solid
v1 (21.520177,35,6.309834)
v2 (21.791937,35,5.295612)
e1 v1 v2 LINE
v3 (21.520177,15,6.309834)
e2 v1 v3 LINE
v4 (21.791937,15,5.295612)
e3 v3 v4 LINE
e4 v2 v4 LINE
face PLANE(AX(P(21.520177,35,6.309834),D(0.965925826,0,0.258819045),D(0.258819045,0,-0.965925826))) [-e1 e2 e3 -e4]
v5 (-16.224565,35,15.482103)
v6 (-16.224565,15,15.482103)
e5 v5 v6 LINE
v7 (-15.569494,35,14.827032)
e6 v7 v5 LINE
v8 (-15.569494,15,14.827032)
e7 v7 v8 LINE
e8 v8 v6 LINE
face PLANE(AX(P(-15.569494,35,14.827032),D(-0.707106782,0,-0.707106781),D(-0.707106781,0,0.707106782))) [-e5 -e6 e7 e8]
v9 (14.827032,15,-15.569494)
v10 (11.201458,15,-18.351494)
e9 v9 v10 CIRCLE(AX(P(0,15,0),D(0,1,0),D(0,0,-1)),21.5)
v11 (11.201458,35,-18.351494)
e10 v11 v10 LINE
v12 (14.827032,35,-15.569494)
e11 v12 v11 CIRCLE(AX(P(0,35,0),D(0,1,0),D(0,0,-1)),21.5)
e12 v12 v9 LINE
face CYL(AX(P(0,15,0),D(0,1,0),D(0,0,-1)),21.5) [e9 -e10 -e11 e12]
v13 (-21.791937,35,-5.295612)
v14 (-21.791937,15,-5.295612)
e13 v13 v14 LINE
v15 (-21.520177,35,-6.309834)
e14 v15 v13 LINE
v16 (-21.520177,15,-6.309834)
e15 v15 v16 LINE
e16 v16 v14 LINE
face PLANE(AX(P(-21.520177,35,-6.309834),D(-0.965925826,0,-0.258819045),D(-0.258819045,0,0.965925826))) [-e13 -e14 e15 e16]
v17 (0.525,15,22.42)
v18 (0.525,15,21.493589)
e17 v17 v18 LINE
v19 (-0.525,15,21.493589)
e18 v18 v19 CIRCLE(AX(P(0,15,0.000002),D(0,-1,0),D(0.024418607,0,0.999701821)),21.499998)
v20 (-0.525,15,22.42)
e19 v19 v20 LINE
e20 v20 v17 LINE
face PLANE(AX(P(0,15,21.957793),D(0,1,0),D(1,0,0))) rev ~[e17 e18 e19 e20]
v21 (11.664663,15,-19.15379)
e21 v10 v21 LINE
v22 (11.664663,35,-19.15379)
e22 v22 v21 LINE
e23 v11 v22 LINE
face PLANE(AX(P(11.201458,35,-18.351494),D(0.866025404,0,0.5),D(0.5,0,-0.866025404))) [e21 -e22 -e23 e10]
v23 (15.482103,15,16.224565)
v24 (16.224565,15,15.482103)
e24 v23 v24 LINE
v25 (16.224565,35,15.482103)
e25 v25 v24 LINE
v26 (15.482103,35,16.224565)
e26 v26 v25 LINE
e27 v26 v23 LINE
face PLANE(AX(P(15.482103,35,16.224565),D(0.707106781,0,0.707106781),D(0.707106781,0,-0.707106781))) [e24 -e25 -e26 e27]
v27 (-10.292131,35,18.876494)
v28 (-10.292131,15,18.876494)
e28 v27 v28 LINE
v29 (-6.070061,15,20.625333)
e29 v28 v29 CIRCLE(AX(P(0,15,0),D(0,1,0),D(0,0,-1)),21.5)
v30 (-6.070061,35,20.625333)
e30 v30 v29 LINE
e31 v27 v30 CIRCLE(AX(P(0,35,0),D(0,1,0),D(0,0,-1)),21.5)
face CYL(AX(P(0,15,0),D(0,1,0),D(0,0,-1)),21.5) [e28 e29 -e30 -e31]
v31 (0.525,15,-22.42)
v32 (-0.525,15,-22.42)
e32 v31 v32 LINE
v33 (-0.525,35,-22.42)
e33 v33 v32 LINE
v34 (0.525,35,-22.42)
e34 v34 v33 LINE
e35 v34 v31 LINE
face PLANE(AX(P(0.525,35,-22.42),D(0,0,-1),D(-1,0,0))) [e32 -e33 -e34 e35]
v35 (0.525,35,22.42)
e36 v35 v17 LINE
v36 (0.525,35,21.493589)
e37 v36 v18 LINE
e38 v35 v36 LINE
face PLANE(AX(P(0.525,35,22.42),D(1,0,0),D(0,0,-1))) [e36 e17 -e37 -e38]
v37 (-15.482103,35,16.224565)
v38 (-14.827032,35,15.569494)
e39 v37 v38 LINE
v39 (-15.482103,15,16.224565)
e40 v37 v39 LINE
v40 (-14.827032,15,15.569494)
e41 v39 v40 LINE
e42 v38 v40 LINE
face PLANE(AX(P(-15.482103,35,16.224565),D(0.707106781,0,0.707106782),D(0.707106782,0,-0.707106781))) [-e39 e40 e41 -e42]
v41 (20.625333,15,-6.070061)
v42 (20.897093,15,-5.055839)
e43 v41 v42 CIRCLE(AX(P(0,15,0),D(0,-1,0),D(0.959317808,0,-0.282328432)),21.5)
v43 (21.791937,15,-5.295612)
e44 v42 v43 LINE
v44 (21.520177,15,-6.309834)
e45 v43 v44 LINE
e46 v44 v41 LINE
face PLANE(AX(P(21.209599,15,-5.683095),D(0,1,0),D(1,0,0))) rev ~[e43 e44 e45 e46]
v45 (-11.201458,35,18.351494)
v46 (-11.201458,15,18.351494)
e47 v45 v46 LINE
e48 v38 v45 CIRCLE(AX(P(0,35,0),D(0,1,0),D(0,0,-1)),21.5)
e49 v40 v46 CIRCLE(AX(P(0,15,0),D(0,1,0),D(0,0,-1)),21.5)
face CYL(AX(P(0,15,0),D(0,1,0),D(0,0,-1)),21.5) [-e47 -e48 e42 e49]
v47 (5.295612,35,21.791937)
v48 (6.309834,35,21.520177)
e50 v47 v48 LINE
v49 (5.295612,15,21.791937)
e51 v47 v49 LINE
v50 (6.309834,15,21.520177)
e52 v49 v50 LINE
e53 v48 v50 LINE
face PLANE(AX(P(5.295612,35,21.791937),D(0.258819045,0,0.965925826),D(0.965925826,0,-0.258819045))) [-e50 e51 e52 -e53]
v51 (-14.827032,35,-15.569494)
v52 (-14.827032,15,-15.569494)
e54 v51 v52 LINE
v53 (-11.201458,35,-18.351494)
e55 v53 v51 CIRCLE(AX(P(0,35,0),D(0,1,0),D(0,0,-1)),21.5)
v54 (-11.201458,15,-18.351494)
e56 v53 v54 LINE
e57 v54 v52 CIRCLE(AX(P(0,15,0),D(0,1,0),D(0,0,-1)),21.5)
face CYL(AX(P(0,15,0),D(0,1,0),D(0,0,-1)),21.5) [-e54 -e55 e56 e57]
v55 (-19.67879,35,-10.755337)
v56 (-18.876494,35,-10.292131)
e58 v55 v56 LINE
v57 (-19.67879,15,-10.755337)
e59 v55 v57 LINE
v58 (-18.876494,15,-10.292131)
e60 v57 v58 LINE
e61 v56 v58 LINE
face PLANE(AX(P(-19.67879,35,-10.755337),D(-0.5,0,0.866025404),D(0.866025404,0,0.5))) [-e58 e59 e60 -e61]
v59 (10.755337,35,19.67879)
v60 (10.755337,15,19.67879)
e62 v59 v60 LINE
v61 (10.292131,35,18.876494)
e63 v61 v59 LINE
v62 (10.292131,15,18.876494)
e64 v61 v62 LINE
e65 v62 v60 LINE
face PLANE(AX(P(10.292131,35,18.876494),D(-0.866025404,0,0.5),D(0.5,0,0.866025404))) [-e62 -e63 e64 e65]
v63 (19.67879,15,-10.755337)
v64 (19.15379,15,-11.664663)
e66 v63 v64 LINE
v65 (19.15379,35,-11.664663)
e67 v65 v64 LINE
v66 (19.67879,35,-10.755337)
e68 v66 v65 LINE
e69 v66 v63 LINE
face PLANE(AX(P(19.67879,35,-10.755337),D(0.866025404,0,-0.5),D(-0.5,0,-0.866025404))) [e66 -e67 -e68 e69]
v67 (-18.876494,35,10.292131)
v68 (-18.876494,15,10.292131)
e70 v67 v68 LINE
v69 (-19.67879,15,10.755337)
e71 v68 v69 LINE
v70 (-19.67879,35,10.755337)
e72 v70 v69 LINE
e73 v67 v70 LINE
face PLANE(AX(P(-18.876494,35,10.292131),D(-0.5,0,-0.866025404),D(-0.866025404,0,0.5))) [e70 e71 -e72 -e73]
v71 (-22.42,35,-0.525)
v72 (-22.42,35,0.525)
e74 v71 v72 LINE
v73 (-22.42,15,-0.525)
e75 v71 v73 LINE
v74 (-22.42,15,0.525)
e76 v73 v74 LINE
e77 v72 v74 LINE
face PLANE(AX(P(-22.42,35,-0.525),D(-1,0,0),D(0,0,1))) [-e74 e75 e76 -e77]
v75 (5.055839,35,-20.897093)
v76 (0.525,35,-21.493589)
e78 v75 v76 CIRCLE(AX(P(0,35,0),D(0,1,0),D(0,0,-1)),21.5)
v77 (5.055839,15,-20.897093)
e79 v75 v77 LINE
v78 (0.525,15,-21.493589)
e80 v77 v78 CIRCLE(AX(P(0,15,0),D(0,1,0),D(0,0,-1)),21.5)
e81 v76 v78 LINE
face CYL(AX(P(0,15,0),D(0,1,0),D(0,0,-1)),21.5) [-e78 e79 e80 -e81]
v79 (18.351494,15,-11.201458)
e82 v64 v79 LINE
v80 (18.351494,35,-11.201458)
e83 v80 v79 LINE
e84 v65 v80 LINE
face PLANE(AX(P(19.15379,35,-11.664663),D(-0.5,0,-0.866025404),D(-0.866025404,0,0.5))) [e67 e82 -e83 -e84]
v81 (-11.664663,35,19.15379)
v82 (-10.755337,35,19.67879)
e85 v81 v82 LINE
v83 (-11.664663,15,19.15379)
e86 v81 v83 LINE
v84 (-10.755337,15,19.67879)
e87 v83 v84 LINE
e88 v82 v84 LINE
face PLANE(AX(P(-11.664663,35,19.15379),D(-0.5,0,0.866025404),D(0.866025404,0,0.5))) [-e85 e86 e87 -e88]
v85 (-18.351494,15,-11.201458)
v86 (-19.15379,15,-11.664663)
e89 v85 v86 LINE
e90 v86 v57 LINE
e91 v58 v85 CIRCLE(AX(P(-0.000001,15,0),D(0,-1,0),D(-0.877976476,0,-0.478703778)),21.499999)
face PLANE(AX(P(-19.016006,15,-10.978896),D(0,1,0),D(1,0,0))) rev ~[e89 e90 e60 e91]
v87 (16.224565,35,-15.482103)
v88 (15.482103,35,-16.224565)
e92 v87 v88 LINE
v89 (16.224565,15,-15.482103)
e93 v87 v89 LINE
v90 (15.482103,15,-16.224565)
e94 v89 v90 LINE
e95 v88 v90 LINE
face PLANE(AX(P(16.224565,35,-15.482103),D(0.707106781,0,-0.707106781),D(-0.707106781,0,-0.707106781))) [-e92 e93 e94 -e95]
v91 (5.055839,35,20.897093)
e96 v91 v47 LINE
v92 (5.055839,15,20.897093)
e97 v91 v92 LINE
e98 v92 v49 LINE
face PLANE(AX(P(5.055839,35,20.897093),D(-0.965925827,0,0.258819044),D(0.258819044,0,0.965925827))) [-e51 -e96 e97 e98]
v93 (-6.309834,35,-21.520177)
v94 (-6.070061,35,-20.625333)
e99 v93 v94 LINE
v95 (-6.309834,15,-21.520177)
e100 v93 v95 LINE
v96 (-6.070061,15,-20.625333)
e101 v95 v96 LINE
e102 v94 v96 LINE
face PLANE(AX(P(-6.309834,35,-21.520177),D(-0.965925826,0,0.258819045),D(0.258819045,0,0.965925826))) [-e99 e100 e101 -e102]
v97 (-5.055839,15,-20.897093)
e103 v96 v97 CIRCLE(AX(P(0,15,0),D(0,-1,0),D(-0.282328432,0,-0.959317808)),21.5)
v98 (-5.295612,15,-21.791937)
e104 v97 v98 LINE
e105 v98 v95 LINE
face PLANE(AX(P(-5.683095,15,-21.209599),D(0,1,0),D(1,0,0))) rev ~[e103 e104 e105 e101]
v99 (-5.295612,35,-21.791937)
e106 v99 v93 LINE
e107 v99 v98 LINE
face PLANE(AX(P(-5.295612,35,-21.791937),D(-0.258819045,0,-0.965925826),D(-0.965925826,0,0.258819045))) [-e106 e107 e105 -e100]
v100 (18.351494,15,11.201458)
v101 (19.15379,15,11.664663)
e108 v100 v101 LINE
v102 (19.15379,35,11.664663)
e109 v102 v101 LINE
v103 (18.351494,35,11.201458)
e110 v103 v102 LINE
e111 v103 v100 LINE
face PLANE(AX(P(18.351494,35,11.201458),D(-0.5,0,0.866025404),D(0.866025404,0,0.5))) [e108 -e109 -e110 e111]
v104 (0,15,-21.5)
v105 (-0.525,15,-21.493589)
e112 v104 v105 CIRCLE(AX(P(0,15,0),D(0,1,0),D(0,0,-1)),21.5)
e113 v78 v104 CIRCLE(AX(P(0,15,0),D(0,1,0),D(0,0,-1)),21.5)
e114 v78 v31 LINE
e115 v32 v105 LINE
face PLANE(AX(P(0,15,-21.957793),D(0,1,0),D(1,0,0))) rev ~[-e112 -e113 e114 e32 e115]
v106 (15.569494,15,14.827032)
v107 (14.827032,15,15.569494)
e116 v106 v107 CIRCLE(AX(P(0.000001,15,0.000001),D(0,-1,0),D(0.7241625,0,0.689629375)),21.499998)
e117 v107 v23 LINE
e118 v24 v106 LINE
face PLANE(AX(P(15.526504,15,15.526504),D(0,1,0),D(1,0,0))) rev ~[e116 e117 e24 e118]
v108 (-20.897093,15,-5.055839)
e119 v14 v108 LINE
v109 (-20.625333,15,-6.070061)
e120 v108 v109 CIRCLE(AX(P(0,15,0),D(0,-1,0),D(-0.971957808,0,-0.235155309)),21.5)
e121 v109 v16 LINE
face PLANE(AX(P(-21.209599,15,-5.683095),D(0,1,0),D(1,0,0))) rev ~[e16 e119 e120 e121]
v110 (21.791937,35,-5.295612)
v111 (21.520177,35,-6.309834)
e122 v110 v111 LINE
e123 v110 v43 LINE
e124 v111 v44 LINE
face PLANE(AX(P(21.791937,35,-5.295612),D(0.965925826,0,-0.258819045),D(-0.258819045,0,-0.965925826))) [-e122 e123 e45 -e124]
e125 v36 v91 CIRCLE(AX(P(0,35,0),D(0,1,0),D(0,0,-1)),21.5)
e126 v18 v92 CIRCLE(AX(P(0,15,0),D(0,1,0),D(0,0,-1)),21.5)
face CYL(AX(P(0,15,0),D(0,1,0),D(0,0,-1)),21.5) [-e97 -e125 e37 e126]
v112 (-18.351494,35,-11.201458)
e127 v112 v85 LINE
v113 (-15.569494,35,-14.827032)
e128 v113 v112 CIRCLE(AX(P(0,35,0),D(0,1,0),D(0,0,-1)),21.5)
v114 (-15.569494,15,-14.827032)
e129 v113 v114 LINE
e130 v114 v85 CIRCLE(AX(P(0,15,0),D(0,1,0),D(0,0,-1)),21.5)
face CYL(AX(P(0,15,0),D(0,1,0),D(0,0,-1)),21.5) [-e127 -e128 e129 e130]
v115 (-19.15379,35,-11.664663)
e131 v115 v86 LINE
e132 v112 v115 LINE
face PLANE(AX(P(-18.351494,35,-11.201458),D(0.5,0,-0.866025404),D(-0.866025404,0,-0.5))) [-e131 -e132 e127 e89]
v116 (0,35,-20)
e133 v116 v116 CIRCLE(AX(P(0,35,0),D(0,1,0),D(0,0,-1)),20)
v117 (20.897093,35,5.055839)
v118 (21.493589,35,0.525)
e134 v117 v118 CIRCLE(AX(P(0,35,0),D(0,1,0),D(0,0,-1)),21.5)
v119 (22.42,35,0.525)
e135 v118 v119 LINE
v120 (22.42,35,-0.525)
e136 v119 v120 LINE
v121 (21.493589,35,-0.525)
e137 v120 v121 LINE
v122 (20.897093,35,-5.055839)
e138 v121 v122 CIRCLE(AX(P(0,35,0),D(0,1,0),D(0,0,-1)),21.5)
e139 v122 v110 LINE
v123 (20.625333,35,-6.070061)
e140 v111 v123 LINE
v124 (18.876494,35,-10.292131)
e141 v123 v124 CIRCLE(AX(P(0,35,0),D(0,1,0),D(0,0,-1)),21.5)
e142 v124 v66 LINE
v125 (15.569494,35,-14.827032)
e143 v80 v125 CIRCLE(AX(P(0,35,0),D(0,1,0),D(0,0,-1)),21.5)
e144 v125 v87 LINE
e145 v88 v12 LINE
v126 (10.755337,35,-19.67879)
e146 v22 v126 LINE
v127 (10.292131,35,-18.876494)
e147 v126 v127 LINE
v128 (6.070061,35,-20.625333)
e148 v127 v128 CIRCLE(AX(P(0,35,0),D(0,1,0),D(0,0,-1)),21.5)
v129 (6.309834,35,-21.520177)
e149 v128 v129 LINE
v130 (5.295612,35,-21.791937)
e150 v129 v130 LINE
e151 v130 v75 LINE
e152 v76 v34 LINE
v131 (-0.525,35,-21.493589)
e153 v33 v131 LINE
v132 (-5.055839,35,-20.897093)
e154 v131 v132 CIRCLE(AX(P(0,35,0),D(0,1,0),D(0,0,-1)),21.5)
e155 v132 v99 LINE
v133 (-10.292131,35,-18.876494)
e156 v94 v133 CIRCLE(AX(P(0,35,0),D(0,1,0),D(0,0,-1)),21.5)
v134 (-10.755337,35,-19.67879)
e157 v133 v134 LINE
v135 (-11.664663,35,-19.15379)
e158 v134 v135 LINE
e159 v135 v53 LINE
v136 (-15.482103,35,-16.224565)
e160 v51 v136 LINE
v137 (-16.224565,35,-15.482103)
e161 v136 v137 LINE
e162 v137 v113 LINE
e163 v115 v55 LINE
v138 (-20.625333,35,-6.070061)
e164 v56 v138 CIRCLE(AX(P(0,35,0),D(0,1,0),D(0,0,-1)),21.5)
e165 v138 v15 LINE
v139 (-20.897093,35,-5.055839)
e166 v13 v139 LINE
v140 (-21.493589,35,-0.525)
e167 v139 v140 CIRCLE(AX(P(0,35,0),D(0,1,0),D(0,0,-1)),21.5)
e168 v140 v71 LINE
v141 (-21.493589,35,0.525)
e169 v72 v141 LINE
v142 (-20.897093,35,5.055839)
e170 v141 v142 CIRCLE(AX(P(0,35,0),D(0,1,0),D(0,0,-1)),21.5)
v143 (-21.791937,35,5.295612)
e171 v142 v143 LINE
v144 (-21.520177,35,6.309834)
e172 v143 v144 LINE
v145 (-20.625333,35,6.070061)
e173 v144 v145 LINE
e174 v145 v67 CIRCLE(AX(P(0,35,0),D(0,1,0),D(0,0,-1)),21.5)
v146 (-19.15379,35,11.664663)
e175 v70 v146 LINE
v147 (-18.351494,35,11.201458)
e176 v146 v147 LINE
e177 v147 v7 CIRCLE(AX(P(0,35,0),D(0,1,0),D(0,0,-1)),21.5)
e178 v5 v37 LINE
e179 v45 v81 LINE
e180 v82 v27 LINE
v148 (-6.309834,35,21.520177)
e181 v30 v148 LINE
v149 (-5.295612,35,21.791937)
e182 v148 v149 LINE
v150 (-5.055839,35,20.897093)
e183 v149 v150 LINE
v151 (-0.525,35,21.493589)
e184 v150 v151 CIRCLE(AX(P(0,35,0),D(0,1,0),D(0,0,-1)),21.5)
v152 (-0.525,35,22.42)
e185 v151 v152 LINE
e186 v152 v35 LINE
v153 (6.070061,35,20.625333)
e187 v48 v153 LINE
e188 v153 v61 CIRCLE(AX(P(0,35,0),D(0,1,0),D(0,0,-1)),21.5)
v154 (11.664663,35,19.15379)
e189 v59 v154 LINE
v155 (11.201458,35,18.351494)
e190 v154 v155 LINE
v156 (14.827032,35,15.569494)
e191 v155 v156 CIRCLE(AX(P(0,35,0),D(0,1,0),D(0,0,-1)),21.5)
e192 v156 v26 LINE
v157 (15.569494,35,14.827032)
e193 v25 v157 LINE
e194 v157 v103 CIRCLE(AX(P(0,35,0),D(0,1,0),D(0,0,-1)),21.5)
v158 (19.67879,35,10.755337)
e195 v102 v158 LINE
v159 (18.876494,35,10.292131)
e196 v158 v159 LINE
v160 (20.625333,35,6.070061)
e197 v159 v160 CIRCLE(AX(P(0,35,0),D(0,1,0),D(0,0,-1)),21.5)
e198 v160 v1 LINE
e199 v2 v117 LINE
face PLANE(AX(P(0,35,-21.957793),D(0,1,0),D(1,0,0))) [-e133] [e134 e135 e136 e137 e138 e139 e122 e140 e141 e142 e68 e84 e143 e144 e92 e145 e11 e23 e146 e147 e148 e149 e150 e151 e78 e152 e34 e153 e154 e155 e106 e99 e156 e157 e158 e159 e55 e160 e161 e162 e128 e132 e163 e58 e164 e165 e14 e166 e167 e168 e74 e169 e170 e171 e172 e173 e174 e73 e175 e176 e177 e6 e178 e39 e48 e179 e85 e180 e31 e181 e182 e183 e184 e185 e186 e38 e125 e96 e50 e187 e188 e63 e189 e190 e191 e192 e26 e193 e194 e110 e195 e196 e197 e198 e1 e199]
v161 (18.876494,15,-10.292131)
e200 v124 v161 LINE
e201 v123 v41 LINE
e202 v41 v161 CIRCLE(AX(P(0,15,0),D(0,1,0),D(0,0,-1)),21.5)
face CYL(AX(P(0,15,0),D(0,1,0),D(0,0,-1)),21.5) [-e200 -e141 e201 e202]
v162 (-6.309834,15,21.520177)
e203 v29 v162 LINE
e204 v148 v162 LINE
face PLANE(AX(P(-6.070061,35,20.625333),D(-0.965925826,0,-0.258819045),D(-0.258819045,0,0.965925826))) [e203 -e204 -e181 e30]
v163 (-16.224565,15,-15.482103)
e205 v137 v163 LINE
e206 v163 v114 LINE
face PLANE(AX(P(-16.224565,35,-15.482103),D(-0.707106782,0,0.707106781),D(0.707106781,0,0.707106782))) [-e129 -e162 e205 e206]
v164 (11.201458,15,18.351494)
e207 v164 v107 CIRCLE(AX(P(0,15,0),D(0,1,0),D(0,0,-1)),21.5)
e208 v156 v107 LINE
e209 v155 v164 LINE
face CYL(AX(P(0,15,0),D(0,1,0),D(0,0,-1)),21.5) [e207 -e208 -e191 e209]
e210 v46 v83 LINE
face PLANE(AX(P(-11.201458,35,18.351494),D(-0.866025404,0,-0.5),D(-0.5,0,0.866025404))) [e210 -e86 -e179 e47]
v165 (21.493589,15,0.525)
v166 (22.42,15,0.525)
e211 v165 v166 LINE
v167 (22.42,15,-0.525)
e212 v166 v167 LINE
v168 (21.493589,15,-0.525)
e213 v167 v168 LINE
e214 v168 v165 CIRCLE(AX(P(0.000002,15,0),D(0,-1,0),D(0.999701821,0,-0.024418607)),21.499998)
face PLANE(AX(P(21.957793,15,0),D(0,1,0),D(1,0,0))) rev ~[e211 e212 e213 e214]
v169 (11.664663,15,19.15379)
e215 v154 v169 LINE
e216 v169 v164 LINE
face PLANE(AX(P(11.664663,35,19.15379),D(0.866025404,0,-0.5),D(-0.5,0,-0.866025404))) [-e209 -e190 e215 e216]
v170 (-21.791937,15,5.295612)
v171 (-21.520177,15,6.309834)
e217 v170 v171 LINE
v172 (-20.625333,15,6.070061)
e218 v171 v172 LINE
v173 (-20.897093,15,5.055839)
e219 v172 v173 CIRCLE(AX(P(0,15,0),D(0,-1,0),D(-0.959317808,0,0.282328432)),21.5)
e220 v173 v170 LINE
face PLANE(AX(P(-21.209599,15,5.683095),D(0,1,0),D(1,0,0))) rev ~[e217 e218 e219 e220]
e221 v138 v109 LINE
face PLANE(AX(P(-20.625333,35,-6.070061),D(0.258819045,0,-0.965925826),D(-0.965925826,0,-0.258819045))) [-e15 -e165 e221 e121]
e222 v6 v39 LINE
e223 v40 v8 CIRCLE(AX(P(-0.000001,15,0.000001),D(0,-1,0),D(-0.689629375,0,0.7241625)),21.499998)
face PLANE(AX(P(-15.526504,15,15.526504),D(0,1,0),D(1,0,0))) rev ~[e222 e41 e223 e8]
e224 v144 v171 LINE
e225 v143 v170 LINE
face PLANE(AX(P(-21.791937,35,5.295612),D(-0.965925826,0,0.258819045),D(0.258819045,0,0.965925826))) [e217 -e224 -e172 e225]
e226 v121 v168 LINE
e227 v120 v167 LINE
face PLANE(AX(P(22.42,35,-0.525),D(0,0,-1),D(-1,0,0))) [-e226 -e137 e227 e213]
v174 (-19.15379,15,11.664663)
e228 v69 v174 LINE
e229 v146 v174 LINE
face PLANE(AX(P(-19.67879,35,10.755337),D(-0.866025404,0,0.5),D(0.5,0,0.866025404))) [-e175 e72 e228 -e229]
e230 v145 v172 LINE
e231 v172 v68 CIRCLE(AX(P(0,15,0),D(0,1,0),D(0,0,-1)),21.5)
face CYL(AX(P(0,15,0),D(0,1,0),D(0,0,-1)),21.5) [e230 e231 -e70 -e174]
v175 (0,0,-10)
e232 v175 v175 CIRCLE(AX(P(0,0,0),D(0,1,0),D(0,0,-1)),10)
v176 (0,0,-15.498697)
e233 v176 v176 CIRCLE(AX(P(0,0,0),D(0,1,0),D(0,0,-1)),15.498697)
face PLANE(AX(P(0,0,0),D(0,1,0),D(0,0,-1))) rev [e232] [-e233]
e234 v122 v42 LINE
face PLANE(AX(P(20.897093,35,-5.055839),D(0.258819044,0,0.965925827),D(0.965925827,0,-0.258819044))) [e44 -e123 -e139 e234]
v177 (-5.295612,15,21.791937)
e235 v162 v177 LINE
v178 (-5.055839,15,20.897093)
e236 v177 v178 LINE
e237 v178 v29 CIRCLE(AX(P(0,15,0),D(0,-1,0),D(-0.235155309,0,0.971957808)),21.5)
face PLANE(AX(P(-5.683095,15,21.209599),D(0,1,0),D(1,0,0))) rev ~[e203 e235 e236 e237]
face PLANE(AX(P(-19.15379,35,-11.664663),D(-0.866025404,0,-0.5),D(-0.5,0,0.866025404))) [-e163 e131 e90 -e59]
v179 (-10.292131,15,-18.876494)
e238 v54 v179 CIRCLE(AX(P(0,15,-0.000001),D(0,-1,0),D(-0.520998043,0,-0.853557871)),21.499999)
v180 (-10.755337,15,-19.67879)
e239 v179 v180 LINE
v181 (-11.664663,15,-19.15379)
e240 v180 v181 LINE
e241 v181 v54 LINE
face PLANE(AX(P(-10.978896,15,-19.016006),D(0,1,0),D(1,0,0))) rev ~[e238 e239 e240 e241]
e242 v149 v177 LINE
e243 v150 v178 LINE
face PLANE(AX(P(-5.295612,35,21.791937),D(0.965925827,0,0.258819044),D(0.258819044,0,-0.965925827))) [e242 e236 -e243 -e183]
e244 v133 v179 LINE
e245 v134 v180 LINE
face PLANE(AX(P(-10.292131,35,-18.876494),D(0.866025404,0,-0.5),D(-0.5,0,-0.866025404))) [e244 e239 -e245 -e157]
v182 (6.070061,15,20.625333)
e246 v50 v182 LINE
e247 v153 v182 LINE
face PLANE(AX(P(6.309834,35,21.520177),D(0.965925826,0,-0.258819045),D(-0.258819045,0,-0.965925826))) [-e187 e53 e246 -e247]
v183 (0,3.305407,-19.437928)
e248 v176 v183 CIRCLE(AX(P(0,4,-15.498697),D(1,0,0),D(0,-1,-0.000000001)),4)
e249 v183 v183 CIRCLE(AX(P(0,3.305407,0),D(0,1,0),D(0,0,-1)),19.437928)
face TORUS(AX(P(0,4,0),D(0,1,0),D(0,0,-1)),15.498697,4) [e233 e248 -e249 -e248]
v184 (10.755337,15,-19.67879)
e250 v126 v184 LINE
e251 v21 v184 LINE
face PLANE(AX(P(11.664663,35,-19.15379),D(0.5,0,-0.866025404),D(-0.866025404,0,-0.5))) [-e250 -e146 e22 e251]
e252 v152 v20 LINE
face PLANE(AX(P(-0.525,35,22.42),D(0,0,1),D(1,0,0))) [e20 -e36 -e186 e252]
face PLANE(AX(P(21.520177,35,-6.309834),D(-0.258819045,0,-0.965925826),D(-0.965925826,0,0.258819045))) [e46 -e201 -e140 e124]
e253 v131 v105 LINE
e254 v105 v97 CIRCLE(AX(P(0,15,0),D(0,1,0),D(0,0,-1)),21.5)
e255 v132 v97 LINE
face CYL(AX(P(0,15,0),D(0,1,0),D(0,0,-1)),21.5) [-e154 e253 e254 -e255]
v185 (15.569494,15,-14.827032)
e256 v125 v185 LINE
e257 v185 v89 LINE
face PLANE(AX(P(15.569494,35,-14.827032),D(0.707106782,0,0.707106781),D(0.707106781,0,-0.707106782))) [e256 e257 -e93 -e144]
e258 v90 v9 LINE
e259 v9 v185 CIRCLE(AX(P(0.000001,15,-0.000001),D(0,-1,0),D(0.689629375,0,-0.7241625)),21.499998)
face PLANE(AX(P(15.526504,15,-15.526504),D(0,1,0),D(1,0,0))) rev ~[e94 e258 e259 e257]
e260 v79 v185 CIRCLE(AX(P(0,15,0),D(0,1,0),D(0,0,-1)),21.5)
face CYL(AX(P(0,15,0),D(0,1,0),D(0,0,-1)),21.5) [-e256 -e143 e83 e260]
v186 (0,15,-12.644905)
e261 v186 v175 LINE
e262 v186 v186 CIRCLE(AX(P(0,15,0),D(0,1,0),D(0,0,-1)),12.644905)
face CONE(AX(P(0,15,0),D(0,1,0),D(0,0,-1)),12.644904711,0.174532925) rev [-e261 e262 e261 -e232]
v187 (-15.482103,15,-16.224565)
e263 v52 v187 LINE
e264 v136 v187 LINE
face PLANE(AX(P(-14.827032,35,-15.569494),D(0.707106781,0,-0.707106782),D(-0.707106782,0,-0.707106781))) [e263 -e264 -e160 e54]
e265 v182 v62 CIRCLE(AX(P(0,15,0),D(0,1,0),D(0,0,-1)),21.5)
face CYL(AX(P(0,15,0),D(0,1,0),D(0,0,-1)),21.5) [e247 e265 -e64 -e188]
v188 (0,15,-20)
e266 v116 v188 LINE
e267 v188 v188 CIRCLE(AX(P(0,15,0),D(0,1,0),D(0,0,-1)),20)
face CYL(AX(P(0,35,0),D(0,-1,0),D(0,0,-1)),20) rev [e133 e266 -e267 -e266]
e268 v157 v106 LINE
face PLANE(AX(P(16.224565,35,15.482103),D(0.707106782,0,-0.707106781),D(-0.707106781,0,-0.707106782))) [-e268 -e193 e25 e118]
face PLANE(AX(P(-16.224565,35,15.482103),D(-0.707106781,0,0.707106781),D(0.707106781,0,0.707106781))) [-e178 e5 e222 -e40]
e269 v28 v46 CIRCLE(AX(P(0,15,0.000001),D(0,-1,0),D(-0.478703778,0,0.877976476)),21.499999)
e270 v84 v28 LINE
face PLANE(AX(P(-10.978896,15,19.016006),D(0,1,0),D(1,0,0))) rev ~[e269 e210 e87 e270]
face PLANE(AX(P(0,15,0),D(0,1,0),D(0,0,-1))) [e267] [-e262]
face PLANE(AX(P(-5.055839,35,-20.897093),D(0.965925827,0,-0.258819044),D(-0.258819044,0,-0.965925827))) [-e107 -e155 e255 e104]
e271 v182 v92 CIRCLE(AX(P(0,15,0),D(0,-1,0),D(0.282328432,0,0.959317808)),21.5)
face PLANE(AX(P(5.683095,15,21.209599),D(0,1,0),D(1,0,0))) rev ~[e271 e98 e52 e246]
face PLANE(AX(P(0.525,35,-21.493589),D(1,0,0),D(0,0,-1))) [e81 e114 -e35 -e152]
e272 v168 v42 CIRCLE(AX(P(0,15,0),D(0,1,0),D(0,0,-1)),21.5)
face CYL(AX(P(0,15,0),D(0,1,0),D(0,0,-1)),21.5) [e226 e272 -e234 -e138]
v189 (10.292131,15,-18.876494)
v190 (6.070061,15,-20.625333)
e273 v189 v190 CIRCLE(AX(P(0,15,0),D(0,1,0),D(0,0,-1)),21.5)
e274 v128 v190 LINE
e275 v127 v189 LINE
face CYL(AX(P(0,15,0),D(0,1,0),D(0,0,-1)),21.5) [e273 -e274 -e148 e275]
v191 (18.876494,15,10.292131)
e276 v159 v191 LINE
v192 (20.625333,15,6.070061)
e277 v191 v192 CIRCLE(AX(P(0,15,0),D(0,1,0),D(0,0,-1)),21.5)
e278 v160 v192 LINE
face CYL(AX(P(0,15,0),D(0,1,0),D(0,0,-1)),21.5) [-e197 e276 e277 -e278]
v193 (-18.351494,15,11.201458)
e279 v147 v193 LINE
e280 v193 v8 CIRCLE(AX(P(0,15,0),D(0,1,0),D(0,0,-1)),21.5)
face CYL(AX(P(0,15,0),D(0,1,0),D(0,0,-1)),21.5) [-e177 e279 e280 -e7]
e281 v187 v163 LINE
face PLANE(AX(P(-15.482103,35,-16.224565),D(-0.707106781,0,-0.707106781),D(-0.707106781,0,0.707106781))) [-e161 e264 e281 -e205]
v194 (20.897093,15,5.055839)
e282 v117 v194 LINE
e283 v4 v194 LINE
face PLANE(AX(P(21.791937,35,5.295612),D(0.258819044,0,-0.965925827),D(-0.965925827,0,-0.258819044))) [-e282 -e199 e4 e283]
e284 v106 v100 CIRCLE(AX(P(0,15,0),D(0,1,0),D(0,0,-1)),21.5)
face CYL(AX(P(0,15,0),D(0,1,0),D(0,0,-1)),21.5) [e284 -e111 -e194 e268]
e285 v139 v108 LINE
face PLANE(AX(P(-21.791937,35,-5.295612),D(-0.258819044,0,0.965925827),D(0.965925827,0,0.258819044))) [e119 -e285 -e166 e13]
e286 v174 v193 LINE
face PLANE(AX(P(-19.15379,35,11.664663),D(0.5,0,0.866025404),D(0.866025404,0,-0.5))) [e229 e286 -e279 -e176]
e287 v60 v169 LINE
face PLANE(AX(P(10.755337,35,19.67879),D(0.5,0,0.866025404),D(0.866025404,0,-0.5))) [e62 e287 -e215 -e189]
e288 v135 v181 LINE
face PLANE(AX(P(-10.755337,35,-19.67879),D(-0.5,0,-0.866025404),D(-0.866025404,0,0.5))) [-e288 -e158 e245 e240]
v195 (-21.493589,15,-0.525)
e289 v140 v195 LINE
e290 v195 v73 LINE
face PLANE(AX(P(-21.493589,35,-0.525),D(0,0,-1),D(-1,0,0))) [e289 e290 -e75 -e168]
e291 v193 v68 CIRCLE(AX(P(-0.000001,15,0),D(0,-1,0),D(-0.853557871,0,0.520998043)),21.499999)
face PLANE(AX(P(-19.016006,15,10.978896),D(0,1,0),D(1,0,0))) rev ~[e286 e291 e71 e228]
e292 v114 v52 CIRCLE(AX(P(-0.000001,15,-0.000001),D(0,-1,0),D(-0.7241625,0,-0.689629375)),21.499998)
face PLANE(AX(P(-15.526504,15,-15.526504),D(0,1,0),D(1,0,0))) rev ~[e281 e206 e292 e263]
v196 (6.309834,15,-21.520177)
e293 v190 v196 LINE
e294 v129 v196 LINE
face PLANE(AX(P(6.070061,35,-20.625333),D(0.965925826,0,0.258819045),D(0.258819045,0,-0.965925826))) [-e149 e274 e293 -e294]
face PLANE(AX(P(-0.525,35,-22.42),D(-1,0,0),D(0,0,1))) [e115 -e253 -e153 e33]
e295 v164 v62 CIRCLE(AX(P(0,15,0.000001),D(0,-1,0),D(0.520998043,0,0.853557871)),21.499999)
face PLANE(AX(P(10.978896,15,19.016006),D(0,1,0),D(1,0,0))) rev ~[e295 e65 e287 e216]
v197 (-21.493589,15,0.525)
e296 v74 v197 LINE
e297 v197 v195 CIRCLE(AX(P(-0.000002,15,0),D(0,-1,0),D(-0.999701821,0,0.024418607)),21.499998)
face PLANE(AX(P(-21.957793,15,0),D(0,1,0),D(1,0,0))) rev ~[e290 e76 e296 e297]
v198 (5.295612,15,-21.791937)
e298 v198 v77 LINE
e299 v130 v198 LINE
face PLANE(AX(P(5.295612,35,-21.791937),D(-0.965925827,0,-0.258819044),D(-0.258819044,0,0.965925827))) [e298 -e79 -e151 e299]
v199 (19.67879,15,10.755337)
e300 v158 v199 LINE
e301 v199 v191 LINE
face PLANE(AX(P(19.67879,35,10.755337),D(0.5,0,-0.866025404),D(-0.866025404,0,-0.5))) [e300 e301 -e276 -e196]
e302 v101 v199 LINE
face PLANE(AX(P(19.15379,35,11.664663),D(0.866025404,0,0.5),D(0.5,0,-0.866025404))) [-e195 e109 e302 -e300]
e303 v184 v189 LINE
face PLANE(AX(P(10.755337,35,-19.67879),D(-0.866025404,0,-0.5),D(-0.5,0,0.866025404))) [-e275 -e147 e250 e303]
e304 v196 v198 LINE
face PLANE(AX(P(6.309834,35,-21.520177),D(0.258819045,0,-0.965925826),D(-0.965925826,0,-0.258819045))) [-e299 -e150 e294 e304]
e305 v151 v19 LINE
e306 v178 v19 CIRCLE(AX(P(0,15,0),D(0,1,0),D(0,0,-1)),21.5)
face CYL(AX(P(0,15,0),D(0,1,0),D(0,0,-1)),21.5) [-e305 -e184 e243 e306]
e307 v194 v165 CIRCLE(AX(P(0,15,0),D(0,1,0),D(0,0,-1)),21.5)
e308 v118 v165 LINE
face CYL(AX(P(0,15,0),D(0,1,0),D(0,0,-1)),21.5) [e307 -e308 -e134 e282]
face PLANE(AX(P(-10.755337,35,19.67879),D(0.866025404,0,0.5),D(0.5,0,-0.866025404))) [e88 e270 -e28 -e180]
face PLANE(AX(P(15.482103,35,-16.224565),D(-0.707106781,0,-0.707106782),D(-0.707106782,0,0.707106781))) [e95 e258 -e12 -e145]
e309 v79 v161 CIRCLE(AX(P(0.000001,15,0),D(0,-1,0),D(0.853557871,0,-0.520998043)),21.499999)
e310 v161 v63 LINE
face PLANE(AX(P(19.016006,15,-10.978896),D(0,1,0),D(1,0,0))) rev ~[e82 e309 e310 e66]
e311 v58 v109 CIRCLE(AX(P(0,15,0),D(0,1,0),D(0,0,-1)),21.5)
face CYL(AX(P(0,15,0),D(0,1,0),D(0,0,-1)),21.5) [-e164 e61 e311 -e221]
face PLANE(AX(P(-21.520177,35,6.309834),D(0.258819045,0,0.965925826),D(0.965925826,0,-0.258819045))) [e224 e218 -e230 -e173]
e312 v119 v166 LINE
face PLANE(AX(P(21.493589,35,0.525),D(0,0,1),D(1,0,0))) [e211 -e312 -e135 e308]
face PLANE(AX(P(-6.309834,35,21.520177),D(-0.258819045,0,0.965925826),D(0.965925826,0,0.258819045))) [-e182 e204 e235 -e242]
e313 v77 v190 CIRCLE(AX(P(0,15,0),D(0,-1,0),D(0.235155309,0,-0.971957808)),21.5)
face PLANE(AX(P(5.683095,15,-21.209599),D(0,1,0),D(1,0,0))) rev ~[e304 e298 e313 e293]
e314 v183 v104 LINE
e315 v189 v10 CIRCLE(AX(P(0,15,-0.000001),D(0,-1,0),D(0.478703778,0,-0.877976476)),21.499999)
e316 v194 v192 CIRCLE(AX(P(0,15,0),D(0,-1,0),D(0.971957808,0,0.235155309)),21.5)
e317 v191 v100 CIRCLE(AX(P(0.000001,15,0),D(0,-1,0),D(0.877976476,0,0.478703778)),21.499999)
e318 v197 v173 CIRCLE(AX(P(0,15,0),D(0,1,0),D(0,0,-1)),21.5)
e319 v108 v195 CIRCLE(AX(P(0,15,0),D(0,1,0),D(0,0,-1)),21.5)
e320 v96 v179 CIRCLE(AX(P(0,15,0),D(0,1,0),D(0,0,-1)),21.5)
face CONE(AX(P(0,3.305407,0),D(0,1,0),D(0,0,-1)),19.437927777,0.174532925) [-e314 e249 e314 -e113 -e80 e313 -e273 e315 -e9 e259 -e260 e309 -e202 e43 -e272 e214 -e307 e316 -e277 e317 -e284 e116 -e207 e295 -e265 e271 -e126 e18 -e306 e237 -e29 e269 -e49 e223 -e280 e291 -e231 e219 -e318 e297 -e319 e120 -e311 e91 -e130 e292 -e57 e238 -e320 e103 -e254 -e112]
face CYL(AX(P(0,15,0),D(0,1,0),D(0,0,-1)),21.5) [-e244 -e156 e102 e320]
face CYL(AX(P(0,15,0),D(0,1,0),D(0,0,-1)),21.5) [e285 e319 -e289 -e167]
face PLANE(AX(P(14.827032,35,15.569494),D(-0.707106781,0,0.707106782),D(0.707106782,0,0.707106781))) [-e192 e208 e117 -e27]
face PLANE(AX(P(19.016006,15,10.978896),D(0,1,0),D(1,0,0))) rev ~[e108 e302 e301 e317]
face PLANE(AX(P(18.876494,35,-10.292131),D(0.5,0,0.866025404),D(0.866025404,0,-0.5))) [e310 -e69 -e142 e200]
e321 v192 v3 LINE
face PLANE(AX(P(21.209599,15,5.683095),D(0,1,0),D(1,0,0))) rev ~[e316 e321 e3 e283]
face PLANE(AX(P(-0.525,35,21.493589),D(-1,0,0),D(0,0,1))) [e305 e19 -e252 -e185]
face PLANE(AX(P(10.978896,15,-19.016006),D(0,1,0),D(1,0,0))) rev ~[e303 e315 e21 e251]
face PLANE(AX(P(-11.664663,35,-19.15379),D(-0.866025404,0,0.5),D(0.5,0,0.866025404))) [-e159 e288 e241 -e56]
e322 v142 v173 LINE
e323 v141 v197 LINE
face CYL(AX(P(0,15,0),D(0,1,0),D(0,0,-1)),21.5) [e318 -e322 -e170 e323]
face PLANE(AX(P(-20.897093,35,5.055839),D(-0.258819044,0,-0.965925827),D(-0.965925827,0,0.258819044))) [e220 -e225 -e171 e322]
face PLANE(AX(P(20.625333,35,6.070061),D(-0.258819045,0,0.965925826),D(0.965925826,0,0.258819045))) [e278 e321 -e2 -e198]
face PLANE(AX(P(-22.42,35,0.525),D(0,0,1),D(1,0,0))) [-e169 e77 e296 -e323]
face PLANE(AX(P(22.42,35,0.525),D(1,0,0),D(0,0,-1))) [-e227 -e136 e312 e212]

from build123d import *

# Parameters (mm, degrees)
BOSS_EXTRUDE1_DEPTH = 20


with BuildPart() as part:
    # Sketch1 → Revolve1 (revolve)
    with BuildSketch(Plane.XY, mode=Mode.PRIVATE) as revolve1_sk:
        with BuildLine():
            Line((12.644904711, 15), (10, 0))
            Line((10, 0), (15.498696765, 0))
            ThreePointArc((15.498696765, 0), (18.069847203, 0.935822228), (19.437927777, 3.305407289))
            Line((19.437927777, 3.305407289), (21.5, 15))
            Line((21.5, 15), (21.5, 35))
            Line((21.5, 35), (20, 35))
            Line((20, 35), (20, 15))
            Line((20, 15), (12.644904711, 15))
        make_face()
    revolve(revolve1_sk.sketch.rotate(Axis((0, 0, 0), (0, 1, 0)), 90), axis=Axis((0, 0, 0), (0, 1, 0)))

    # Sketch2 → Boss-Extrude1 (add)
    with BuildSketch(Plane(origin=(0, 35, 0), x_dir=(1, 0, 0), z_dir=(0, 1, 0))):
        with BuildLine():
            Line((21.49358916, -0.525), (22.42, -0.525))
            Line((22.42, -0.525), (22.42, 0.525))
            Line((22.42, 0.525), (21.49358916, 0.525))
            ThreePointArc((21.49358916, 0.525), (21.5, 0), (21.49358916, -0.525))
        make_face()
        with BuildLine():
            Line((20.625332871, -6.070061281), (21.520177027, -6.30983405))
            Line((21.520177027, -6.30983405), (21.791937024, -5.295611932))
            Line((21.791937024, -5.295611932), (20.897092868, -5.055839164))
            ThreePointArc((20.897092868, -5.055839164), (20.767405265, -5.56460947), (20.625332871, -6.070061281))
        make_face()
        with BuildLine():
            Line((18.351494231, -11.201457917), (19.153789553, -11.664663337))
            Line((19.153789553, -11.664663337), (19.678789553, -10.755336663))
            Line((19.678789553, -10.755336663), (18.876494231, -10.292131243))
            ThreePointArc((18.876494231, -10.292131243), (18.619546181, -10.75), (18.351494231, -11.201457917))
        make_face()
        with BuildLine():
            Line((14.827031587, -15.569493708), (15.482102974, -16.224565094))
            Line((15.482102974, -16.224565094), (16.224565094, -15.482102974))
            Line((16.224565094, -15.482102974), (15.569493708, -14.827031587))
            ThreePointArc((15.569493708, -14.827031587), (15.202795796, -15.202795796), (14.827031587, -15.569493708))
        make_face()
        with BuildLine():
            Line((10.292131243, -18.876494231), (10.755336663, -19.678789553))
            Line((10.755336663, -19.678789553), (11.664663337, -19.153789553))
            Line((11.664663337, -19.153789553), (11.201457917, -18.351494231))
            ThreePointArc((11.201457917, -18.351494231), (10.75, -18.619546181), (10.292131243, -18.876494231))
        make_face()
        with BuildLine():
            Line((5.055839164, -20.897092868), (5.295611932, -21.791937024))
            Line((5.295611932, -21.791937024), (6.30983405, -21.520177027))
            Line((6.30983405, -21.520177027), (6.070061281, -20.625332871))
            ThreePointArc((6.070061281, -20.625332871), (5.56460947, -20.767405265), (5.055839164, -20.897092868))
        make_face()
        with BuildLine():
            Line((-0.525, -21.49358916), (-0.525, -22.42))
            Line((-0.525, -22.42), (0.525, -22.42))
            Line((0.525, -22.42), (0.525, -21.49358916))
            ThreePointArc((0.525, -21.49358916), (0, -21.5), (-0.525, -21.49358916))
        make_face()
        with BuildLine():
            Line((-6.070061281, -20.625332871), (-6.30983405, -21.520177027))
            Line((-6.30983405, -21.520177027), (-5.295611932, -21.791937024))
            Line((-5.295611932, -21.791937024), (-5.055839164, -20.897092868))
            ThreePointArc((-5.055839164, -20.897092868), (-5.56460947, -20.767405265), (-6.070061281, -20.625332871))
        make_face()
        with BuildLine():
            Line((-11.201457917, -18.351494231), (-11.664663337, -19.153789553))
            Line((-11.664663337, -19.153789553), (-10.755336663, -19.678789553))
            Line((-10.755336663, -19.678789553), (-10.292131243, -18.876494231))
            ThreePointArc((-10.292131243, -18.876494231), (-10.75, -18.619546181), (-11.201457917, -18.351494231))
        make_face()
        with BuildLine():
            Line((-15.569493708, -14.827031587), (-16.224565094, -15.482102974))
            Line((-16.224565094, -15.482102974), (-15.482102974, -16.224565094))
            Line((-15.482102974, -16.224565094), (-14.827031587, -15.569493708))
            ThreePointArc((-14.827031587, -15.569493708), (-15.202795796, -15.202795796), (-15.569493708, -14.827031587))
        make_face()
        with BuildLine():
            Line((-18.876494231, -10.292131243), (-19.678789553, -10.755336663))
            Line((-19.678789553, -10.755336663), (-19.153789553, -11.664663337))
            Line((-19.153789553, -11.664663337), (-18.351494231, -11.201457917))
            ThreePointArc((-18.351494231, -11.201457917), (-18.619546181, -10.75), (-18.876494231, -10.292131243))
        make_face()
        with BuildLine():
            Line((-20.897092868, -5.055839164), (-21.791937024, -5.295611932))
            Line((-21.791937024, -5.295611932), (-21.520177027, -6.30983405))
            Line((-21.520177027, -6.30983405), (-20.625332871, -6.070061281))
            ThreePointArc((-20.625332871, -6.070061281), (-20.767405265, -5.56460947), (-20.897092868, -5.055839164))
        make_face()
        with BuildLine():
            Line((-21.49358916, 0.525), (-22.42, 0.525))
            Line((-22.42, 0.525), (-22.42, -0.525))
            Line((-22.42, -0.525), (-21.49358916, -0.525))
            ThreePointArc((-21.49358916, -0.525), (-21.5, 0), (-21.49358916, 0.525))
        make_face()
        with BuildLine():
            Line((-20.625332871, 6.070061281), (-21.520177027, 6.30983405))
            Line((-21.520177027, 6.30983405), (-21.791937024, 5.295611932))
            Line((-21.791937024, 5.295611932), (-20.897092868, 5.055839164))
            ThreePointArc((-20.897092868, 5.055839164), (-20.767405265, 5.56460947), (-20.625332871, 6.070061281))
        make_face()
        with BuildLine():
            Line((-18.351494231, 11.201457917), (-19.153789553, 11.664663337))
            Line((-19.153789553, 11.664663337), (-19.678789553, 10.755336663))
            Line((-19.678789553, 10.755336663), (-18.876494231, 10.292131243))
            ThreePointArc((-18.876494231, 10.292131243), (-18.619546181, 10.75), (-18.351494231, 11.201457917))
        make_face()
        with BuildLine():
            Line((-14.827031587, 15.569493708), (-15.482102974, 16.224565094))
            Line((-15.482102974, 16.224565094), (-16.224565094, 15.482102974))
            Line((-16.224565094, 15.482102974), (-15.569493708, 14.827031587))
            ThreePointArc((-15.569493708, 14.827031587), (-15.202795796, 15.202795796), (-14.827031587, 15.569493708))
        make_face()
        with BuildLine():
            Line((-10.292131243, 18.876494231), (-10.755336663, 19.678789553))
            Line((-10.755336663, 19.678789553), (-11.664663337, 19.153789553))
            Line((-11.664663337, 19.153789553), (-11.201457917, 18.351494231))
            ThreePointArc((-11.201457917, 18.351494231), (-10.75, 18.619546181), (-10.292131243, 18.876494231))
        make_face()
        with BuildLine():
            Line((-5.055839164, 20.897092868), (-5.295611932, 21.791937024))
            Line((-5.295611932, 21.791937024), (-6.30983405, 21.520177027))
            Line((-6.30983405, 21.520177027), (-6.070061281, 20.625332871))
            ThreePointArc((-6.070061281, 20.625332871), (-5.56460947, 20.767405265), (-5.055839164, 20.897092868))
        make_face()
        with BuildLine():
            Line((0.525, 21.49358916), (0.525, 22.42))
            Line((0.525, 22.42), (-0.525, 22.42))
            Line((-0.525, 22.42), (-0.525, 21.49358916))
            ThreePointArc((-0.525, 21.49358916), (0, 21.5), (0.525, 21.49358916))
        make_face()
        with BuildLine():
            Line((6.070061281, 20.625332871), (6.30983405, 21.520177027))
            Line((6.30983405, 21.520177027), (5.295611932, 21.791937024))
            Line((5.295611932, 21.791937024), (5.055839164, 20.897092868))
            ThreePointArc((5.055839164, 20.897092868), (5.56460947, 20.767405265), (6.070061281, 20.625332871))
        make_face()
        with BuildLine():
            Line((11.201457917, 18.351494231), (11.664663337, 19.153789553))
            Line((11.664663337, 19.153789553), (10.755336663, 19.678789553))
            Line((10.755336663, 19.678789553), (10.292131243, 18.876494231))
            ThreePointArc((10.292131243, 18.876494231), (10.75, 18.619546181), (11.201457917, 18.351494231))
        make_face()
        with BuildLine():
            Line((15.569493708, 14.827031587), (16.224565094, 15.482102974))
            Line((16.224565094, 15.482102974), (15.482102974, 16.224565094))
            Line((15.482102974, 16.224565094), (14.827031587, 15.569493708))
            ThreePointArc((14.827031587, 15.569493708), (15.202795796, 15.202795796), (15.569493708, 14.827031587))
        make_face()
        with BuildLine():
            Line((18.876494231, 10.292131243), (19.678789553, 10.755336663))
            Line((19.678789553, 10.755336663), (19.153789553, 11.664663337))
            Line((19.153789553, 11.664663337), (18.351494231, 11.201457917))
            ThreePointArc((18.351494231, 11.201457917), (18.619546181, 10.75), (18.876494231, 10.292131243))
        make_face()
        with BuildLine():
            Line((20.897092868, 5.055839164), (21.791937024, 5.295611932))
            Line((21.791937024, 5.295611932), (21.520177027, 6.30983405))
            Line((21.520177027, 6.30983405), (20.625332871, 6.070061281))
            ThreePointArc((20.625332871, 6.070061281), (20.767405265, 5.56460947), (20.897092868, 5.055839164))
        make_face()
    extrude(amount=-BOSS_EXTRUDE1_DEPTH)


solid = part.part
